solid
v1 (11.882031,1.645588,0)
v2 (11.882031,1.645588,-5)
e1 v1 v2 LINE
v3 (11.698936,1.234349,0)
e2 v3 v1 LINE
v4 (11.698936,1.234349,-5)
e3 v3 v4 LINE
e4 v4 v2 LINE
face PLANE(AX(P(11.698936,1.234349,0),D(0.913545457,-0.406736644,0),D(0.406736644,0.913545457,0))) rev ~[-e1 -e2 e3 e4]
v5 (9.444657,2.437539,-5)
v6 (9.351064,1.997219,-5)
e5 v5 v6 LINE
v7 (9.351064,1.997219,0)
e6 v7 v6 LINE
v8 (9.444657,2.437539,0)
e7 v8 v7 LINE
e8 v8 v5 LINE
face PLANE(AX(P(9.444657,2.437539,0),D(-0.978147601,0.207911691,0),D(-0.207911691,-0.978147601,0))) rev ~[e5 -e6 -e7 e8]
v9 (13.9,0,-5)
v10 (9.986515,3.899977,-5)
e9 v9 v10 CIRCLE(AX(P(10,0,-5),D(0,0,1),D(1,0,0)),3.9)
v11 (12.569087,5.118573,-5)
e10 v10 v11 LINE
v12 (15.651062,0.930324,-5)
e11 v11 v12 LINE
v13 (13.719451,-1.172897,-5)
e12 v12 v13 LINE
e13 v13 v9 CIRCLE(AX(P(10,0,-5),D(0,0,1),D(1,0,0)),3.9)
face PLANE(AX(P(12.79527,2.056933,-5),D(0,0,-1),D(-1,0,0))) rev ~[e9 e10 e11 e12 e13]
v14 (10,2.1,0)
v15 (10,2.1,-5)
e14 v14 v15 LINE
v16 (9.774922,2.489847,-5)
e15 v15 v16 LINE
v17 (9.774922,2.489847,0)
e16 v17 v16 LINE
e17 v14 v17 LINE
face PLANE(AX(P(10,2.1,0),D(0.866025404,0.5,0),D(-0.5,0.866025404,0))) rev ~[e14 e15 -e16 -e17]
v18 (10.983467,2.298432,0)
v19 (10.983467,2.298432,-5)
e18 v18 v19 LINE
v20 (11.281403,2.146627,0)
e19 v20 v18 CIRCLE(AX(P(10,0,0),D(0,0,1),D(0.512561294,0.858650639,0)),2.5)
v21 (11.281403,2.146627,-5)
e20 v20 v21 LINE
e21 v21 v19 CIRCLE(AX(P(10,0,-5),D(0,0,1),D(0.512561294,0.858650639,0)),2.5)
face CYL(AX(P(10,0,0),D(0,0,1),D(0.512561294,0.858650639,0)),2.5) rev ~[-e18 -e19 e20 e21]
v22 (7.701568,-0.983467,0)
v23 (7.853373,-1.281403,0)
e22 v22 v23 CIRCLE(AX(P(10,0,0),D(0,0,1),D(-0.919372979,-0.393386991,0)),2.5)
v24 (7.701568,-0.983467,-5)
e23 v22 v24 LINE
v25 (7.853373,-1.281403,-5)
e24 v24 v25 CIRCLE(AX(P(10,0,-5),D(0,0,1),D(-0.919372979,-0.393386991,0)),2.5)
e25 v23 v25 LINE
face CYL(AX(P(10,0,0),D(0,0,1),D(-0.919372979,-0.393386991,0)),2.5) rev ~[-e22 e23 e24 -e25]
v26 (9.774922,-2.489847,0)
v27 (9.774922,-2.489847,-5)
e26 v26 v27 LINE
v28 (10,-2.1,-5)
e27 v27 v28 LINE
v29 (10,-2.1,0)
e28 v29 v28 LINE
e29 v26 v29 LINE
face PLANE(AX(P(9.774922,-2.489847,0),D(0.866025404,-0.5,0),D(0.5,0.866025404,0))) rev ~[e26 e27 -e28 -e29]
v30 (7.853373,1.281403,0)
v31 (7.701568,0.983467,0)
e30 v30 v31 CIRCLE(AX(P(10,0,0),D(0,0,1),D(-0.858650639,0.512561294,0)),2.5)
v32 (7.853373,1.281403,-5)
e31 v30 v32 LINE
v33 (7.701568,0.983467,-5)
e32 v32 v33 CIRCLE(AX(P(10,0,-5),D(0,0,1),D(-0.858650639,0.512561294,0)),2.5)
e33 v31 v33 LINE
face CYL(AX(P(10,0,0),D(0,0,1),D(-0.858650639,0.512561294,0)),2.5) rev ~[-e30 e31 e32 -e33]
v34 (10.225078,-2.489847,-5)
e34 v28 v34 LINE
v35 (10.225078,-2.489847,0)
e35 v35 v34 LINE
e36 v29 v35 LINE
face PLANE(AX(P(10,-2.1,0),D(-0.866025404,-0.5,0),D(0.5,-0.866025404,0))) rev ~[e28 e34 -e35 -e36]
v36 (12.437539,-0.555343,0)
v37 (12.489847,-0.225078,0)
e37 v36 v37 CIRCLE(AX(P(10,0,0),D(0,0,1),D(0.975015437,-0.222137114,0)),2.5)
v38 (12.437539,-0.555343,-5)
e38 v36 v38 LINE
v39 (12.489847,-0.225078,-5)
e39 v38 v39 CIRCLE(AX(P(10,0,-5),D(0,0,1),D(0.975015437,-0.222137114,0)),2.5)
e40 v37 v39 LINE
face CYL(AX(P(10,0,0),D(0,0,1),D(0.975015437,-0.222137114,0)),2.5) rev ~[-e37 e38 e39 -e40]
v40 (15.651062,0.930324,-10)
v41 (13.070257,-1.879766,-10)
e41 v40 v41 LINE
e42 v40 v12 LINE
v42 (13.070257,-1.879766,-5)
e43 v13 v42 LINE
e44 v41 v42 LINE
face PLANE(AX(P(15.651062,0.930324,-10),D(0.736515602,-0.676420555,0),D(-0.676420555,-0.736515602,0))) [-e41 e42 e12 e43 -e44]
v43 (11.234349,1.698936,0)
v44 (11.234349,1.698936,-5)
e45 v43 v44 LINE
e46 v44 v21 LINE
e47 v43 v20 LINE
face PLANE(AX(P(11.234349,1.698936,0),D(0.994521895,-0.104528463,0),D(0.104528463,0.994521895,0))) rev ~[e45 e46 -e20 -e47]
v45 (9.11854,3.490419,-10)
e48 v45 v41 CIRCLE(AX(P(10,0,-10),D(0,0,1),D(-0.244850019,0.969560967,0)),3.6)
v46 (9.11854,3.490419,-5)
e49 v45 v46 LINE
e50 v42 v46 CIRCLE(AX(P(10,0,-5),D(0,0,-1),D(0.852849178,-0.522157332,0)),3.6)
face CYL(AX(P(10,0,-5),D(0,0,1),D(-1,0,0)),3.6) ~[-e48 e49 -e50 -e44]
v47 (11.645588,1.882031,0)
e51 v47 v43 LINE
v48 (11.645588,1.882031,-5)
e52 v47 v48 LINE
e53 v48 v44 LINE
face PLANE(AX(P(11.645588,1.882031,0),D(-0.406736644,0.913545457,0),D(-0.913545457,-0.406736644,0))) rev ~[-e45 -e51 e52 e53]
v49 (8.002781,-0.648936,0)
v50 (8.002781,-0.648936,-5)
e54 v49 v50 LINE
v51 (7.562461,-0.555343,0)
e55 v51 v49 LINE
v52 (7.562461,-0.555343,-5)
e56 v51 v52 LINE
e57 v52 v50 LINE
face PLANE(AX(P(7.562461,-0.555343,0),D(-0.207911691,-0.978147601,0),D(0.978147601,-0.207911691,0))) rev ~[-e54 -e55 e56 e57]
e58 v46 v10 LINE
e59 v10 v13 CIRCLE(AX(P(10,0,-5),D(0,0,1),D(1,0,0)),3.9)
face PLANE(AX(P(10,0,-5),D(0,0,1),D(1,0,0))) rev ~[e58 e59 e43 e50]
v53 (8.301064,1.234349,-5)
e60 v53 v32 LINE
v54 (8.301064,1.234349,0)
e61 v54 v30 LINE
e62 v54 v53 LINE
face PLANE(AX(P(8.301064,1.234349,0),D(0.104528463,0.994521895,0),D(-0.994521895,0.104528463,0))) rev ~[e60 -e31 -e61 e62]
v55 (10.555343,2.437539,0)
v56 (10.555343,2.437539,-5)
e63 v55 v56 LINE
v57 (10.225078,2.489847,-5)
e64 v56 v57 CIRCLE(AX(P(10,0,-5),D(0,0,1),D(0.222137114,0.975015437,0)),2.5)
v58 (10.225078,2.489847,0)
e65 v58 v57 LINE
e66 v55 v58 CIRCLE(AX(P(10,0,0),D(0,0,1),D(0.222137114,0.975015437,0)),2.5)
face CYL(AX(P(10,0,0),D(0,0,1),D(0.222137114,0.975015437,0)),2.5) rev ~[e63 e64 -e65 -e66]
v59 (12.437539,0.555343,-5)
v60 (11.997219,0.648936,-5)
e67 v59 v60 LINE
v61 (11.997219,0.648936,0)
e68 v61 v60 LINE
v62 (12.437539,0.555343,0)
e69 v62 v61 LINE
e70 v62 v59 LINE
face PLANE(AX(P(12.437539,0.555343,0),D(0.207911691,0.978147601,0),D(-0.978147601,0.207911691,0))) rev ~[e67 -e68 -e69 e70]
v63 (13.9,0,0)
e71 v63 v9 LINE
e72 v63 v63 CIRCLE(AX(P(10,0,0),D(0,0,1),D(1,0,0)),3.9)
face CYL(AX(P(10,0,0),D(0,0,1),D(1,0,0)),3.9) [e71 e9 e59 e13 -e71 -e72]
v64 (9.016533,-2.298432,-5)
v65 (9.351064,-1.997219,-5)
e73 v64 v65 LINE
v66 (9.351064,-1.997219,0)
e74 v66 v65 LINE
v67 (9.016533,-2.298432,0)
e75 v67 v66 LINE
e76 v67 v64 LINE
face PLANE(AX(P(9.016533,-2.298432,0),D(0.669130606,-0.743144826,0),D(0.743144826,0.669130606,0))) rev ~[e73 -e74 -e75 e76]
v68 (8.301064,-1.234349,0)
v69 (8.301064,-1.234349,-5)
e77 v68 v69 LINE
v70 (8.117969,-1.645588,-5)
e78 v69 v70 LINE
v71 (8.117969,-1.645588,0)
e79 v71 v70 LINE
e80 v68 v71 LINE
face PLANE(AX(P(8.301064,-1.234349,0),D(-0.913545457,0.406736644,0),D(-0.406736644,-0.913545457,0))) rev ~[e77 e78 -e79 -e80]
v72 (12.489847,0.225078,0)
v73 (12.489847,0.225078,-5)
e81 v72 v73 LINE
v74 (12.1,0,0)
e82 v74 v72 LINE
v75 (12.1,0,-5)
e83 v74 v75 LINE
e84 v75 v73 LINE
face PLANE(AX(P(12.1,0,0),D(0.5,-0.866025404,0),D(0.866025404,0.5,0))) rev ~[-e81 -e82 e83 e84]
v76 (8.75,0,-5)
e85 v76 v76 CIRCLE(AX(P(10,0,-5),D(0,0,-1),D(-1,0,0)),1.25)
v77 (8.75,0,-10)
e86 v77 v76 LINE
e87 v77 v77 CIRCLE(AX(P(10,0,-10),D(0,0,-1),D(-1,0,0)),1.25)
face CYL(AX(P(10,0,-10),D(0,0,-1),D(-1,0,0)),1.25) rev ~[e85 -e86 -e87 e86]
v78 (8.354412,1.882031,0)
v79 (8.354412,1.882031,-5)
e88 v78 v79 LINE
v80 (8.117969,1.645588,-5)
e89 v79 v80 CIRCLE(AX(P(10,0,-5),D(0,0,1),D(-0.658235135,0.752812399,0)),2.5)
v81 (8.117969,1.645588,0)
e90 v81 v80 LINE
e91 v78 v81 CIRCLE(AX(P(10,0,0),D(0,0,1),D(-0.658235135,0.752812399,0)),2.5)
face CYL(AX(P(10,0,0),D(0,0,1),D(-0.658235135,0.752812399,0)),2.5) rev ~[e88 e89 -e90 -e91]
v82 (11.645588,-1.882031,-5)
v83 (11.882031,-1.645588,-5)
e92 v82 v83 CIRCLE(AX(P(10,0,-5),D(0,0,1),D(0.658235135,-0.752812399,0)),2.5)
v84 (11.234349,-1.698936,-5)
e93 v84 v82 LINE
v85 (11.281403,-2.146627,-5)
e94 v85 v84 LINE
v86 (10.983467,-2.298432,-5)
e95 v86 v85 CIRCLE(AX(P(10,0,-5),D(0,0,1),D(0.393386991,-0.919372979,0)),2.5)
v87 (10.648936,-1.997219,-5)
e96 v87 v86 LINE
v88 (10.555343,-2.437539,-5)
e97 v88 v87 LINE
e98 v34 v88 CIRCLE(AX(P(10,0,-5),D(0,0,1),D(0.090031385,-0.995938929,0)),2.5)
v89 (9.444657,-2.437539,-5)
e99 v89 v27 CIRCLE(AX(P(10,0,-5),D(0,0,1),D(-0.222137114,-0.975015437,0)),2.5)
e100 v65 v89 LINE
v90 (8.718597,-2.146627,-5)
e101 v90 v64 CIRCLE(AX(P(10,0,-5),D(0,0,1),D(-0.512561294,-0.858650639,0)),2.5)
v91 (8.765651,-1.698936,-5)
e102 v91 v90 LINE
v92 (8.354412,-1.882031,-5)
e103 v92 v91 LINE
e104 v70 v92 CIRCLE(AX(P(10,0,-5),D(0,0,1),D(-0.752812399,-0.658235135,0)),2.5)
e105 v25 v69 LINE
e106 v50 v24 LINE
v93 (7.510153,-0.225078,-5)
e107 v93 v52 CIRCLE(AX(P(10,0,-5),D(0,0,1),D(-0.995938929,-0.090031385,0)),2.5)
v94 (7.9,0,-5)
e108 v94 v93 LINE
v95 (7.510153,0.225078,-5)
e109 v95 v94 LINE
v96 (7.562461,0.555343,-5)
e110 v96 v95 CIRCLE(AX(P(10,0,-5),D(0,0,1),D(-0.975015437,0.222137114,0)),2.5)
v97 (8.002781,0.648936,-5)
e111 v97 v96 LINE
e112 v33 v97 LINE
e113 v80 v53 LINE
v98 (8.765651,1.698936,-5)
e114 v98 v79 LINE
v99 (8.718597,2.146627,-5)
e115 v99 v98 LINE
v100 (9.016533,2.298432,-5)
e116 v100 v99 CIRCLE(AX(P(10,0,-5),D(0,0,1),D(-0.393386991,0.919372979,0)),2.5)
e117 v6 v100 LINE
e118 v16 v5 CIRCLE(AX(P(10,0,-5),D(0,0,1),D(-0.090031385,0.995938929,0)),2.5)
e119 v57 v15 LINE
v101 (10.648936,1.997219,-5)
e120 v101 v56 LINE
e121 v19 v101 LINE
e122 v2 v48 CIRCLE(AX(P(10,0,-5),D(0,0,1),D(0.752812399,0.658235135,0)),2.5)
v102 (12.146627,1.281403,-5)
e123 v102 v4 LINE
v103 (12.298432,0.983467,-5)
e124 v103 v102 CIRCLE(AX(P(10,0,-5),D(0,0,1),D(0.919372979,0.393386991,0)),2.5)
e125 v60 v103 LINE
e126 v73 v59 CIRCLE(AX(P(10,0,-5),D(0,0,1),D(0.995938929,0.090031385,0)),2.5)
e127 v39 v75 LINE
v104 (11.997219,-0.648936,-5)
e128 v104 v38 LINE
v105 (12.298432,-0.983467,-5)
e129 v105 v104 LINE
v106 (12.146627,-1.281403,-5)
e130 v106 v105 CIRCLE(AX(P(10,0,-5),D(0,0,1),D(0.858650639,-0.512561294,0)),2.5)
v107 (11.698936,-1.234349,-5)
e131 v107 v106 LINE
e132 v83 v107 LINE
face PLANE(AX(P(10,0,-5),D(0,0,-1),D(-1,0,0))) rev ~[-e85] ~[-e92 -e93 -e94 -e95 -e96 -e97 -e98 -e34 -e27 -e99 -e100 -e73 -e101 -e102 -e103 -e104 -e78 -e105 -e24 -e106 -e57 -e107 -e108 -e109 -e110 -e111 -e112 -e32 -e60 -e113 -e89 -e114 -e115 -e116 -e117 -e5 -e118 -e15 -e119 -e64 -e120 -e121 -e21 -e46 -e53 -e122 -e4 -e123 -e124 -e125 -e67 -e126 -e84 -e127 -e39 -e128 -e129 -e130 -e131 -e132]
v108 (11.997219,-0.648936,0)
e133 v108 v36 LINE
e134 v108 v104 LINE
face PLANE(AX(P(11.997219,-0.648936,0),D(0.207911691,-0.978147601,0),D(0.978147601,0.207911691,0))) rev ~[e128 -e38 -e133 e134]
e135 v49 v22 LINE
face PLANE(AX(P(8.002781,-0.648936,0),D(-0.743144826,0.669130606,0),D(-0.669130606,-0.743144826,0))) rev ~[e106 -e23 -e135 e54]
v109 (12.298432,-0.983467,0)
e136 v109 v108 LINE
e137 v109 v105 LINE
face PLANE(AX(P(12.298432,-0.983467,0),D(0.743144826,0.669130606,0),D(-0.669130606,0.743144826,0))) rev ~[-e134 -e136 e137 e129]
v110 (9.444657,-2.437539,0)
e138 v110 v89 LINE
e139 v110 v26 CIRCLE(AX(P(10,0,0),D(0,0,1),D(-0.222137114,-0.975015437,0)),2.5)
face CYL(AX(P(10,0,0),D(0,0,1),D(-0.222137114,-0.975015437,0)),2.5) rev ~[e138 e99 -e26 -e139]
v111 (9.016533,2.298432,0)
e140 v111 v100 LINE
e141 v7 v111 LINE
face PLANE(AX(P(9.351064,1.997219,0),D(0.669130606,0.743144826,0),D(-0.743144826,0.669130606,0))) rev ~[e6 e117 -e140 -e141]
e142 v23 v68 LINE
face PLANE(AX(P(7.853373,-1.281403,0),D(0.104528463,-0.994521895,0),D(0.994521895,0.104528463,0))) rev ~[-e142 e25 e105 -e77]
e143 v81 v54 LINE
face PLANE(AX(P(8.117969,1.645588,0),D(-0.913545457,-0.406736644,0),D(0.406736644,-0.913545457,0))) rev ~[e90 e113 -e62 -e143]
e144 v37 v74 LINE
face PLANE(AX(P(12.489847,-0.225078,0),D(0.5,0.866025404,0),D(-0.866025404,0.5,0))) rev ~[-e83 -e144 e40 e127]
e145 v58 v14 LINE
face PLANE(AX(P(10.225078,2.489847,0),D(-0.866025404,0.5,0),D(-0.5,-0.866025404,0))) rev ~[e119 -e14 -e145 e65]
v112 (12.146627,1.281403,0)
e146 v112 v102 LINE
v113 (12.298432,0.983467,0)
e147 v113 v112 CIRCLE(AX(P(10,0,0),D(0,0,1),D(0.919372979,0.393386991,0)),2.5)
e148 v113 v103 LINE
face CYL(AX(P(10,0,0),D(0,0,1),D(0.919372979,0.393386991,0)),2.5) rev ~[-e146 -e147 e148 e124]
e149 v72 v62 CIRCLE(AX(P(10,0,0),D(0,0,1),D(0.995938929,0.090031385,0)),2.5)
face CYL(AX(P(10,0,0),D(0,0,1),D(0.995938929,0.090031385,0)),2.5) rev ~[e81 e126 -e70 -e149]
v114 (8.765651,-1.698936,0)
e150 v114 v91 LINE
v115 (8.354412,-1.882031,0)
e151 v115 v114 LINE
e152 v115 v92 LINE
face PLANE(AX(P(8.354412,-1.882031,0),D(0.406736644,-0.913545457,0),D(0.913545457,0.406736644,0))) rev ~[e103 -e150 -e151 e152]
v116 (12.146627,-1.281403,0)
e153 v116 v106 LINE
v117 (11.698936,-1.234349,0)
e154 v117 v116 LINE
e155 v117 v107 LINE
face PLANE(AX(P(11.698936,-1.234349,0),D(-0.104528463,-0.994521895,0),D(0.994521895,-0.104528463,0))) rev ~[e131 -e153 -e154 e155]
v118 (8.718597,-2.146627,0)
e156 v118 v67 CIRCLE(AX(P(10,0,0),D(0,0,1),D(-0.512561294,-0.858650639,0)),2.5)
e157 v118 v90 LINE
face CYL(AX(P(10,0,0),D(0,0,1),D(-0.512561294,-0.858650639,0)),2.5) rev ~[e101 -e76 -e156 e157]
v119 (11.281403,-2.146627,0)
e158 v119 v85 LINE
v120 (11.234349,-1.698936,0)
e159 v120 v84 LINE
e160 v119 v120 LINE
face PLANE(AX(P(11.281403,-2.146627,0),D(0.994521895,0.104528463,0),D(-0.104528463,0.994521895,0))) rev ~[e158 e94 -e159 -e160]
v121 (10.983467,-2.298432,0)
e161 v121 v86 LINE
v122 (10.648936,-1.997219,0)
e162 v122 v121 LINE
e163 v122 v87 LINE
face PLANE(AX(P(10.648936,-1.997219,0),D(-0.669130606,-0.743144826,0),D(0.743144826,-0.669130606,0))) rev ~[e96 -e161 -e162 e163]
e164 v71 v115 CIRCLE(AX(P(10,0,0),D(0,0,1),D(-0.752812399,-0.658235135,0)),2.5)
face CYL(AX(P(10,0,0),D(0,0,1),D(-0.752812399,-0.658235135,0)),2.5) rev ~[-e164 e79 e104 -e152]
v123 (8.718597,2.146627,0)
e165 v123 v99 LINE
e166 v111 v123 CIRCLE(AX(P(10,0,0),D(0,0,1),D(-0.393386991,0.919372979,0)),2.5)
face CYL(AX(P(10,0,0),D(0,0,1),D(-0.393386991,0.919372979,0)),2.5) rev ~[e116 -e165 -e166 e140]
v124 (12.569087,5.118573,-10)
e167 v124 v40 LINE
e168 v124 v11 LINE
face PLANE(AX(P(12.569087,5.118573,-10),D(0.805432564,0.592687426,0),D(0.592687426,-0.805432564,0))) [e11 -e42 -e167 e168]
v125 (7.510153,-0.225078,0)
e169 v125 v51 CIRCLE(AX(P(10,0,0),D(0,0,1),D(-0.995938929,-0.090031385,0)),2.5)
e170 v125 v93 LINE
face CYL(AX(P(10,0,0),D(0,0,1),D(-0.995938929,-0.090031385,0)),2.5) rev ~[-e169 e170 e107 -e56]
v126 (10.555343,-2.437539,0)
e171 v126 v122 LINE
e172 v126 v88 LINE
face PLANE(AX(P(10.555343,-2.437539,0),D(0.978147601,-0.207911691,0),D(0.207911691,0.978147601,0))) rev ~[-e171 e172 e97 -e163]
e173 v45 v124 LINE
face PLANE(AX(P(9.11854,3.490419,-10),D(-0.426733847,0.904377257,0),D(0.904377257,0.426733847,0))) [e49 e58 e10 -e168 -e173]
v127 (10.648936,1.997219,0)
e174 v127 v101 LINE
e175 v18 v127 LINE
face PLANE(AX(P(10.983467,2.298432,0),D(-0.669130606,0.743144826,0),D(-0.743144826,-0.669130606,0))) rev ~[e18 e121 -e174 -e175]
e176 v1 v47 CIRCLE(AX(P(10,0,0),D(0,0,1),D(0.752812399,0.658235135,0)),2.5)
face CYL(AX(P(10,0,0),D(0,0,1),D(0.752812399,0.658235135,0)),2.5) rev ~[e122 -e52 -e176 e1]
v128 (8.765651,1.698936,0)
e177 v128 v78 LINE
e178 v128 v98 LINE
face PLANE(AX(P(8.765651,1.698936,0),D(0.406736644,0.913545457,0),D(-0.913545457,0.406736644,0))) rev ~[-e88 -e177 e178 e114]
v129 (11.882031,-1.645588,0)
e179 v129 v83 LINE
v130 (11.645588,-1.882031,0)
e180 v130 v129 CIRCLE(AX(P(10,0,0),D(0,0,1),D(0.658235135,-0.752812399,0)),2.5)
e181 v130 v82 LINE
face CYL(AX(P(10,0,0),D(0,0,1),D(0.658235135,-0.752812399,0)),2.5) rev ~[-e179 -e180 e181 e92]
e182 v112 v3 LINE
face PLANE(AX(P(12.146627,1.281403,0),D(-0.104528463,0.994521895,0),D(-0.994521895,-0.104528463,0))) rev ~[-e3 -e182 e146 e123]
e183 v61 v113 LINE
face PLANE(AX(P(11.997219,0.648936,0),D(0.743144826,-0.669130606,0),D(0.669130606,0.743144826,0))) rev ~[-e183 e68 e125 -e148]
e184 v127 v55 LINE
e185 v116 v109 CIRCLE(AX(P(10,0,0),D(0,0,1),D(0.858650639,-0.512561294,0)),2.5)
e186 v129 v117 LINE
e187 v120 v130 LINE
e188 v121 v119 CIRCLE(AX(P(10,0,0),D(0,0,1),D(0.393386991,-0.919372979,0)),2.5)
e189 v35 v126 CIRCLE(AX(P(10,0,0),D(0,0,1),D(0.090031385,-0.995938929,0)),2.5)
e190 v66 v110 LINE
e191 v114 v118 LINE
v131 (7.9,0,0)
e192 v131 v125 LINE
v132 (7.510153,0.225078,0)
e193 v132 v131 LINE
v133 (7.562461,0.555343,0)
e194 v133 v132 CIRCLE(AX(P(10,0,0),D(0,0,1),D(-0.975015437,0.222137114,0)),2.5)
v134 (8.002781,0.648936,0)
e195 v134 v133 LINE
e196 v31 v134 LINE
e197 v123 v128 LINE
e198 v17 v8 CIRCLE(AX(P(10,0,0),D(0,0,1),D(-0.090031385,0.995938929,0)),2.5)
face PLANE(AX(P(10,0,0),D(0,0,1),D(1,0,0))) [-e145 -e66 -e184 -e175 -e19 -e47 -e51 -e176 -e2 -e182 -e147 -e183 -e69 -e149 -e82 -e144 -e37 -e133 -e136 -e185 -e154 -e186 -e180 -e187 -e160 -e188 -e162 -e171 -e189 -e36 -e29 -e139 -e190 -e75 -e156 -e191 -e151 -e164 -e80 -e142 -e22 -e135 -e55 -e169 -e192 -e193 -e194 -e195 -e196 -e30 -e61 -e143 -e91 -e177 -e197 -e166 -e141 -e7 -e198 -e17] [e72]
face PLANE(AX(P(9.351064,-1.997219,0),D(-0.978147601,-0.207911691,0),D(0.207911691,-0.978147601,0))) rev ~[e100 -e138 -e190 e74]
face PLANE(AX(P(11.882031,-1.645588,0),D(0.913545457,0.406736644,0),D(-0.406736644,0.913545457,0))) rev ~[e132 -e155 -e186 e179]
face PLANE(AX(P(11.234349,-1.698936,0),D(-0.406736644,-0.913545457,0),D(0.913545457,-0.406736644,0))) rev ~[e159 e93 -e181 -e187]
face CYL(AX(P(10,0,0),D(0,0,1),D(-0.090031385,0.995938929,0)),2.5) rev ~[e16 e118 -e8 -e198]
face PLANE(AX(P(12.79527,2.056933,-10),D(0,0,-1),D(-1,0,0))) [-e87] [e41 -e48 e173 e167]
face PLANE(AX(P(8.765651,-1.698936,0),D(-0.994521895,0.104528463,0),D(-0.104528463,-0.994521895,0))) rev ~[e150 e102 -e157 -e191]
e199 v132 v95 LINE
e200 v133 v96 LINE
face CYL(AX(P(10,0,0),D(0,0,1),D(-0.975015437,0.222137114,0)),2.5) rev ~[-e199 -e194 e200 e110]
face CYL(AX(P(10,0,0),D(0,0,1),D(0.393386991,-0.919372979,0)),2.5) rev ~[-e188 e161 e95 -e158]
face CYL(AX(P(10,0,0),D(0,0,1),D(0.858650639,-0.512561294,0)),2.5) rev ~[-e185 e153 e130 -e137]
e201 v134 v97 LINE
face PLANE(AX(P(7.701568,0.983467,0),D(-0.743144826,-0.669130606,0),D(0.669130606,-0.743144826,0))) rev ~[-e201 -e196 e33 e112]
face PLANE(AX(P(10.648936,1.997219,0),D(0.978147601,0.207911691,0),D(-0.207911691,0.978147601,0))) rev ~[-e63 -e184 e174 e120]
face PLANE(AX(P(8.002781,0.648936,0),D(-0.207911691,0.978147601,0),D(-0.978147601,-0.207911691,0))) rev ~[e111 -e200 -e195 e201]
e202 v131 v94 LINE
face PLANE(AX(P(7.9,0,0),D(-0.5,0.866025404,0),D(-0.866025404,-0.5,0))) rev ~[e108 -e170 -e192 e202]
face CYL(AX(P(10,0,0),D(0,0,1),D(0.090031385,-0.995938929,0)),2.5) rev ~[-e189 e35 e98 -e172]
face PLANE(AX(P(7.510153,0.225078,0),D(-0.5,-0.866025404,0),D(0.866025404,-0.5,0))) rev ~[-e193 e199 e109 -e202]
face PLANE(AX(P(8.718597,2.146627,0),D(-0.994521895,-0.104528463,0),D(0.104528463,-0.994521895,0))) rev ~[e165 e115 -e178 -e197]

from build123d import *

# Parameters (mm, degrees)
SKETCH3_R           = 3.9
BOSS_EXTRUDE1_DEPTH = 5
SKETCH5_R           = 3.6
BOSS_EXTRUDE2_DEPTH = 5
BOSS_EXTRUDE3_DEPTH = 5
SKETCH7_R           = 1.25
CUT_EXTRUDE1_DEPTH  = 11


with BuildPart() as part:
    # Sketch3 → Boss-Extrude1 (new body)
    with BuildSketch(Plane.XY):
        with Locations((10, 0)):
            Circle(SKETCH3_R)
        with BuildLine():
            Line((10, 2.1), (9.774921544, 2.489847322))
            ThreePointArc((9.774921544, 2.489847322), (9.608913837, 2.469220851), (9.444657197, 2.437538589))
            Line((9.444657197, 2.437538589), (9.351064312, 1.997218684))
            Line((9.351064312, 1.997218684), (9.016532531, 2.298432452))
            ThreePointArc((9.016532531, 2.298432452), (8.865023751, 2.22751631), (8.71859676, 2.146626594))
            Line((8.71859676, 2.146626594), (8.76565097, 1.698935688))
            Line((8.76565097, 1.698935688), (8.354412167, 1.882031))
            ThreePointArc((8.354412167, 1.882031), (8.232233047, 1.767766953), (8.117969, 1.645587833))
            Line((8.117969, 1.645587833), (8.301064312, 1.23434903))
            Line((8.301064312, 1.23434903), (7.853373406, 1.28140324))
            ThreePointArc((7.853373406, 1.28140324), (7.77248369, 1.134976249), (7.701567548, 0.983467469))
            Line((7.701567548, 0.983467469), (8.002781316, 0.648935688))
            Line((8.002781316, 0.648935688), (7.562461411, 0.555342803))
            ThreePointArc((7.562461411, 0.555342803), (7.530779149, 0.391086163), (7.510152678, 0.225078456))
            Line((7.510152678, 0.225078456), (7.9, 0))
            Line((7.9, 0), (7.510152678, -0.225078456))
            ThreePointArc((7.510152678, -0.225078456), (7.530779149, -0.391086163), (7.562461411, -0.555342803))
            Line((7.562461411, -0.555342803), (8.002781316, -0.648935688))
            Line((8.002781316, -0.648935688), (7.701567548, -0.983467469))
            ThreePointArc((7.701567548, -0.983467469), (7.77248369, -1.134976249), (7.853373406, -1.28140324))
            Line((7.853373406, -1.28140324), (8.301064312, -1.23434903))
            Line((8.301064312, -1.23434903), (8.117969, -1.645587833))
            ThreePointArc((8.117969, -1.645587833), (8.232233047, -1.767766953), (8.354412167, -1.882031))
            Line((8.354412167, -1.882031), (8.76565097, -1.698935688))
            Line((8.76565097, -1.698935688), (8.71859676, -2.146626594))
            ThreePointArc((8.71859676, -2.146626594), (8.865023751, -2.22751631), (9.016532531, -2.298432452))
            Line((9.016532531, -2.298432452), (9.351064312, -1.997218684))
            Line((9.351064312, -1.997218684), (9.444657197, -2.437538589))
            ThreePointArc((9.444657197, -2.437538589), (9.608913837, -2.469220851), (9.774921544, -2.489847322))
            Line((9.774921544, -2.489847322), (10, -2.1))
            Line((10, -2.1), (10.225078456, -2.489847322))
            ThreePointArc((10.225078456, -2.489847322), (10.391086163, -2.469220851), (10.555342803, -2.437538589))
            Line((10.555342803, -2.437538589), (10.648935688, -1.997218684))
            Line((10.648935688, -1.997218684), (10.983467469, -2.298432452))
            ThreePointArc((10.983467469, -2.298432452), (11.134976249, -2.22751631), (11.28140324, -2.146626594))
            Line((11.28140324, -2.146626594), (11.23434903, -1.698935688))
            Line((11.23434903, -1.698935688), (11.645587833, -1.882031))
            ThreePointArc((11.645587833, -1.882031), (11.767766953, -1.767766953), (11.882031, -1.645587833))
            Line((11.882031, -1.645587833), (11.698935688, -1.23434903))
            Line((11.698935688, -1.23434903), (12.146626594, -1.28140324))
            ThreePointArc((12.146626594, -1.28140324), (12.22751631, -1.134976249), (12.298432452, -0.983467469))
            Line((12.298432452, -0.983467469), (11.997218684, -0.648935688))
            Line((11.997218684, -0.648935688), (12.437538589, -0.555342803))
            ThreePointArc((12.437538589, -0.555342803), (12.469220851, -0.391086163), (12.489847322, -0.225078456))
            Line((12.489847322, -0.225078456), (12.1, 0))
            Line((12.1, 0), (12.489847322, 0.225078456))
            ThreePointArc((12.489847322, 0.225078456), (12.469220851, 0.391086163), (12.437538589, 0.555342803))
            Line((12.437538589, 0.555342803), (11.997218684, 0.648935688))
            Line((11.997218684, 0.648935688), (12.298432452, 0.983467469))
            ThreePointArc((12.298432452, 0.983467469), (12.22751631, 1.134976249), (12.146626594, 1.28140324))
            Line((12.146626594, 1.28140324), (11.698935688, 1.23434903))
            Line((11.698935688, 1.23434903), (11.882031, 1.645587833))
            ThreePointArc((11.882031, 1.645587833), (11.767766953, 1.767766953), (11.645587833, 1.882031))
            Line((11.645587833, 1.882031), (11.23434903, 1.698935688))
            Line((11.23434903, 1.698935688), (11.28140324, 2.146626594))
            ThreePointArc((11.28140324, 2.146626594), (11.134976249, 2.22751631), (10.983467469, 2.298432452))
            Line((10.983467469, 2.298432452), (10.648935688, 1.997218684))
            Line((10.648935688, 1.997218684), (10.555342803, 2.437538589))
            ThreePointArc((10.555342803, 2.437538589), (10.391086163, 2.469220851), (10.225078456, 2.489847322))
            Line((10.225078456, 2.489847322), (10, 2.1))
        make_face(mode=Mode.SUBTRACT)
    extrude(amount=-BOSS_EXTRUDE1_DEPTH)

    # Sketch5 → Boss-Extrude2 (add)
    with BuildSketch(Plane(origin=(0, 0, -5), x_dir=(-1, 0, 0), z_dir=(0, 0, -1))):
        with Locations((-10, 0)):
            Circle(SKETCH5_R)
    extrude(amount=BOSS_EXTRUDE2_DEPTH)

    # Sketch6 → Boss-Extrude3 (add)
    with BuildSketch(Plane(origin=(0, 0, -10), x_dir=(-1, 0, 0), z_dir=(0, 0, -1))):
        with BuildLine():
            ThreePointArc((-13.070257041, -1.879766396), (-12.89955723, 2.133674734), (-9.118539931, 3.49041948))
            Line((-9.118539931, 3.49041948), (-12.569087005, 5.118573235))
            Line((-12.569087005, 5.118573235), (-15.65106162, 0.930323902))
            Line((-15.65106162, 0.930323902), (-13.070257041, -1.879766396))
        make_face()
    extrude(amount=-BOSS_EXTRUDE3_DEPTH)

    # Sketch7 → Cut-Extrude1 (cut, through all)
    with BuildSketch(Plane(origin=(0, 0, -10), x_dir=(-1, 0, 0), z_dir=(0, 0, -1))):
        with Locations((-10, 0)):
            Circle(SKETCH7_R)
    extrude(amount=-CUT_EXTRUDE1_DEPTH, mode=Mode.SUBTRACT)


solid = part.part
